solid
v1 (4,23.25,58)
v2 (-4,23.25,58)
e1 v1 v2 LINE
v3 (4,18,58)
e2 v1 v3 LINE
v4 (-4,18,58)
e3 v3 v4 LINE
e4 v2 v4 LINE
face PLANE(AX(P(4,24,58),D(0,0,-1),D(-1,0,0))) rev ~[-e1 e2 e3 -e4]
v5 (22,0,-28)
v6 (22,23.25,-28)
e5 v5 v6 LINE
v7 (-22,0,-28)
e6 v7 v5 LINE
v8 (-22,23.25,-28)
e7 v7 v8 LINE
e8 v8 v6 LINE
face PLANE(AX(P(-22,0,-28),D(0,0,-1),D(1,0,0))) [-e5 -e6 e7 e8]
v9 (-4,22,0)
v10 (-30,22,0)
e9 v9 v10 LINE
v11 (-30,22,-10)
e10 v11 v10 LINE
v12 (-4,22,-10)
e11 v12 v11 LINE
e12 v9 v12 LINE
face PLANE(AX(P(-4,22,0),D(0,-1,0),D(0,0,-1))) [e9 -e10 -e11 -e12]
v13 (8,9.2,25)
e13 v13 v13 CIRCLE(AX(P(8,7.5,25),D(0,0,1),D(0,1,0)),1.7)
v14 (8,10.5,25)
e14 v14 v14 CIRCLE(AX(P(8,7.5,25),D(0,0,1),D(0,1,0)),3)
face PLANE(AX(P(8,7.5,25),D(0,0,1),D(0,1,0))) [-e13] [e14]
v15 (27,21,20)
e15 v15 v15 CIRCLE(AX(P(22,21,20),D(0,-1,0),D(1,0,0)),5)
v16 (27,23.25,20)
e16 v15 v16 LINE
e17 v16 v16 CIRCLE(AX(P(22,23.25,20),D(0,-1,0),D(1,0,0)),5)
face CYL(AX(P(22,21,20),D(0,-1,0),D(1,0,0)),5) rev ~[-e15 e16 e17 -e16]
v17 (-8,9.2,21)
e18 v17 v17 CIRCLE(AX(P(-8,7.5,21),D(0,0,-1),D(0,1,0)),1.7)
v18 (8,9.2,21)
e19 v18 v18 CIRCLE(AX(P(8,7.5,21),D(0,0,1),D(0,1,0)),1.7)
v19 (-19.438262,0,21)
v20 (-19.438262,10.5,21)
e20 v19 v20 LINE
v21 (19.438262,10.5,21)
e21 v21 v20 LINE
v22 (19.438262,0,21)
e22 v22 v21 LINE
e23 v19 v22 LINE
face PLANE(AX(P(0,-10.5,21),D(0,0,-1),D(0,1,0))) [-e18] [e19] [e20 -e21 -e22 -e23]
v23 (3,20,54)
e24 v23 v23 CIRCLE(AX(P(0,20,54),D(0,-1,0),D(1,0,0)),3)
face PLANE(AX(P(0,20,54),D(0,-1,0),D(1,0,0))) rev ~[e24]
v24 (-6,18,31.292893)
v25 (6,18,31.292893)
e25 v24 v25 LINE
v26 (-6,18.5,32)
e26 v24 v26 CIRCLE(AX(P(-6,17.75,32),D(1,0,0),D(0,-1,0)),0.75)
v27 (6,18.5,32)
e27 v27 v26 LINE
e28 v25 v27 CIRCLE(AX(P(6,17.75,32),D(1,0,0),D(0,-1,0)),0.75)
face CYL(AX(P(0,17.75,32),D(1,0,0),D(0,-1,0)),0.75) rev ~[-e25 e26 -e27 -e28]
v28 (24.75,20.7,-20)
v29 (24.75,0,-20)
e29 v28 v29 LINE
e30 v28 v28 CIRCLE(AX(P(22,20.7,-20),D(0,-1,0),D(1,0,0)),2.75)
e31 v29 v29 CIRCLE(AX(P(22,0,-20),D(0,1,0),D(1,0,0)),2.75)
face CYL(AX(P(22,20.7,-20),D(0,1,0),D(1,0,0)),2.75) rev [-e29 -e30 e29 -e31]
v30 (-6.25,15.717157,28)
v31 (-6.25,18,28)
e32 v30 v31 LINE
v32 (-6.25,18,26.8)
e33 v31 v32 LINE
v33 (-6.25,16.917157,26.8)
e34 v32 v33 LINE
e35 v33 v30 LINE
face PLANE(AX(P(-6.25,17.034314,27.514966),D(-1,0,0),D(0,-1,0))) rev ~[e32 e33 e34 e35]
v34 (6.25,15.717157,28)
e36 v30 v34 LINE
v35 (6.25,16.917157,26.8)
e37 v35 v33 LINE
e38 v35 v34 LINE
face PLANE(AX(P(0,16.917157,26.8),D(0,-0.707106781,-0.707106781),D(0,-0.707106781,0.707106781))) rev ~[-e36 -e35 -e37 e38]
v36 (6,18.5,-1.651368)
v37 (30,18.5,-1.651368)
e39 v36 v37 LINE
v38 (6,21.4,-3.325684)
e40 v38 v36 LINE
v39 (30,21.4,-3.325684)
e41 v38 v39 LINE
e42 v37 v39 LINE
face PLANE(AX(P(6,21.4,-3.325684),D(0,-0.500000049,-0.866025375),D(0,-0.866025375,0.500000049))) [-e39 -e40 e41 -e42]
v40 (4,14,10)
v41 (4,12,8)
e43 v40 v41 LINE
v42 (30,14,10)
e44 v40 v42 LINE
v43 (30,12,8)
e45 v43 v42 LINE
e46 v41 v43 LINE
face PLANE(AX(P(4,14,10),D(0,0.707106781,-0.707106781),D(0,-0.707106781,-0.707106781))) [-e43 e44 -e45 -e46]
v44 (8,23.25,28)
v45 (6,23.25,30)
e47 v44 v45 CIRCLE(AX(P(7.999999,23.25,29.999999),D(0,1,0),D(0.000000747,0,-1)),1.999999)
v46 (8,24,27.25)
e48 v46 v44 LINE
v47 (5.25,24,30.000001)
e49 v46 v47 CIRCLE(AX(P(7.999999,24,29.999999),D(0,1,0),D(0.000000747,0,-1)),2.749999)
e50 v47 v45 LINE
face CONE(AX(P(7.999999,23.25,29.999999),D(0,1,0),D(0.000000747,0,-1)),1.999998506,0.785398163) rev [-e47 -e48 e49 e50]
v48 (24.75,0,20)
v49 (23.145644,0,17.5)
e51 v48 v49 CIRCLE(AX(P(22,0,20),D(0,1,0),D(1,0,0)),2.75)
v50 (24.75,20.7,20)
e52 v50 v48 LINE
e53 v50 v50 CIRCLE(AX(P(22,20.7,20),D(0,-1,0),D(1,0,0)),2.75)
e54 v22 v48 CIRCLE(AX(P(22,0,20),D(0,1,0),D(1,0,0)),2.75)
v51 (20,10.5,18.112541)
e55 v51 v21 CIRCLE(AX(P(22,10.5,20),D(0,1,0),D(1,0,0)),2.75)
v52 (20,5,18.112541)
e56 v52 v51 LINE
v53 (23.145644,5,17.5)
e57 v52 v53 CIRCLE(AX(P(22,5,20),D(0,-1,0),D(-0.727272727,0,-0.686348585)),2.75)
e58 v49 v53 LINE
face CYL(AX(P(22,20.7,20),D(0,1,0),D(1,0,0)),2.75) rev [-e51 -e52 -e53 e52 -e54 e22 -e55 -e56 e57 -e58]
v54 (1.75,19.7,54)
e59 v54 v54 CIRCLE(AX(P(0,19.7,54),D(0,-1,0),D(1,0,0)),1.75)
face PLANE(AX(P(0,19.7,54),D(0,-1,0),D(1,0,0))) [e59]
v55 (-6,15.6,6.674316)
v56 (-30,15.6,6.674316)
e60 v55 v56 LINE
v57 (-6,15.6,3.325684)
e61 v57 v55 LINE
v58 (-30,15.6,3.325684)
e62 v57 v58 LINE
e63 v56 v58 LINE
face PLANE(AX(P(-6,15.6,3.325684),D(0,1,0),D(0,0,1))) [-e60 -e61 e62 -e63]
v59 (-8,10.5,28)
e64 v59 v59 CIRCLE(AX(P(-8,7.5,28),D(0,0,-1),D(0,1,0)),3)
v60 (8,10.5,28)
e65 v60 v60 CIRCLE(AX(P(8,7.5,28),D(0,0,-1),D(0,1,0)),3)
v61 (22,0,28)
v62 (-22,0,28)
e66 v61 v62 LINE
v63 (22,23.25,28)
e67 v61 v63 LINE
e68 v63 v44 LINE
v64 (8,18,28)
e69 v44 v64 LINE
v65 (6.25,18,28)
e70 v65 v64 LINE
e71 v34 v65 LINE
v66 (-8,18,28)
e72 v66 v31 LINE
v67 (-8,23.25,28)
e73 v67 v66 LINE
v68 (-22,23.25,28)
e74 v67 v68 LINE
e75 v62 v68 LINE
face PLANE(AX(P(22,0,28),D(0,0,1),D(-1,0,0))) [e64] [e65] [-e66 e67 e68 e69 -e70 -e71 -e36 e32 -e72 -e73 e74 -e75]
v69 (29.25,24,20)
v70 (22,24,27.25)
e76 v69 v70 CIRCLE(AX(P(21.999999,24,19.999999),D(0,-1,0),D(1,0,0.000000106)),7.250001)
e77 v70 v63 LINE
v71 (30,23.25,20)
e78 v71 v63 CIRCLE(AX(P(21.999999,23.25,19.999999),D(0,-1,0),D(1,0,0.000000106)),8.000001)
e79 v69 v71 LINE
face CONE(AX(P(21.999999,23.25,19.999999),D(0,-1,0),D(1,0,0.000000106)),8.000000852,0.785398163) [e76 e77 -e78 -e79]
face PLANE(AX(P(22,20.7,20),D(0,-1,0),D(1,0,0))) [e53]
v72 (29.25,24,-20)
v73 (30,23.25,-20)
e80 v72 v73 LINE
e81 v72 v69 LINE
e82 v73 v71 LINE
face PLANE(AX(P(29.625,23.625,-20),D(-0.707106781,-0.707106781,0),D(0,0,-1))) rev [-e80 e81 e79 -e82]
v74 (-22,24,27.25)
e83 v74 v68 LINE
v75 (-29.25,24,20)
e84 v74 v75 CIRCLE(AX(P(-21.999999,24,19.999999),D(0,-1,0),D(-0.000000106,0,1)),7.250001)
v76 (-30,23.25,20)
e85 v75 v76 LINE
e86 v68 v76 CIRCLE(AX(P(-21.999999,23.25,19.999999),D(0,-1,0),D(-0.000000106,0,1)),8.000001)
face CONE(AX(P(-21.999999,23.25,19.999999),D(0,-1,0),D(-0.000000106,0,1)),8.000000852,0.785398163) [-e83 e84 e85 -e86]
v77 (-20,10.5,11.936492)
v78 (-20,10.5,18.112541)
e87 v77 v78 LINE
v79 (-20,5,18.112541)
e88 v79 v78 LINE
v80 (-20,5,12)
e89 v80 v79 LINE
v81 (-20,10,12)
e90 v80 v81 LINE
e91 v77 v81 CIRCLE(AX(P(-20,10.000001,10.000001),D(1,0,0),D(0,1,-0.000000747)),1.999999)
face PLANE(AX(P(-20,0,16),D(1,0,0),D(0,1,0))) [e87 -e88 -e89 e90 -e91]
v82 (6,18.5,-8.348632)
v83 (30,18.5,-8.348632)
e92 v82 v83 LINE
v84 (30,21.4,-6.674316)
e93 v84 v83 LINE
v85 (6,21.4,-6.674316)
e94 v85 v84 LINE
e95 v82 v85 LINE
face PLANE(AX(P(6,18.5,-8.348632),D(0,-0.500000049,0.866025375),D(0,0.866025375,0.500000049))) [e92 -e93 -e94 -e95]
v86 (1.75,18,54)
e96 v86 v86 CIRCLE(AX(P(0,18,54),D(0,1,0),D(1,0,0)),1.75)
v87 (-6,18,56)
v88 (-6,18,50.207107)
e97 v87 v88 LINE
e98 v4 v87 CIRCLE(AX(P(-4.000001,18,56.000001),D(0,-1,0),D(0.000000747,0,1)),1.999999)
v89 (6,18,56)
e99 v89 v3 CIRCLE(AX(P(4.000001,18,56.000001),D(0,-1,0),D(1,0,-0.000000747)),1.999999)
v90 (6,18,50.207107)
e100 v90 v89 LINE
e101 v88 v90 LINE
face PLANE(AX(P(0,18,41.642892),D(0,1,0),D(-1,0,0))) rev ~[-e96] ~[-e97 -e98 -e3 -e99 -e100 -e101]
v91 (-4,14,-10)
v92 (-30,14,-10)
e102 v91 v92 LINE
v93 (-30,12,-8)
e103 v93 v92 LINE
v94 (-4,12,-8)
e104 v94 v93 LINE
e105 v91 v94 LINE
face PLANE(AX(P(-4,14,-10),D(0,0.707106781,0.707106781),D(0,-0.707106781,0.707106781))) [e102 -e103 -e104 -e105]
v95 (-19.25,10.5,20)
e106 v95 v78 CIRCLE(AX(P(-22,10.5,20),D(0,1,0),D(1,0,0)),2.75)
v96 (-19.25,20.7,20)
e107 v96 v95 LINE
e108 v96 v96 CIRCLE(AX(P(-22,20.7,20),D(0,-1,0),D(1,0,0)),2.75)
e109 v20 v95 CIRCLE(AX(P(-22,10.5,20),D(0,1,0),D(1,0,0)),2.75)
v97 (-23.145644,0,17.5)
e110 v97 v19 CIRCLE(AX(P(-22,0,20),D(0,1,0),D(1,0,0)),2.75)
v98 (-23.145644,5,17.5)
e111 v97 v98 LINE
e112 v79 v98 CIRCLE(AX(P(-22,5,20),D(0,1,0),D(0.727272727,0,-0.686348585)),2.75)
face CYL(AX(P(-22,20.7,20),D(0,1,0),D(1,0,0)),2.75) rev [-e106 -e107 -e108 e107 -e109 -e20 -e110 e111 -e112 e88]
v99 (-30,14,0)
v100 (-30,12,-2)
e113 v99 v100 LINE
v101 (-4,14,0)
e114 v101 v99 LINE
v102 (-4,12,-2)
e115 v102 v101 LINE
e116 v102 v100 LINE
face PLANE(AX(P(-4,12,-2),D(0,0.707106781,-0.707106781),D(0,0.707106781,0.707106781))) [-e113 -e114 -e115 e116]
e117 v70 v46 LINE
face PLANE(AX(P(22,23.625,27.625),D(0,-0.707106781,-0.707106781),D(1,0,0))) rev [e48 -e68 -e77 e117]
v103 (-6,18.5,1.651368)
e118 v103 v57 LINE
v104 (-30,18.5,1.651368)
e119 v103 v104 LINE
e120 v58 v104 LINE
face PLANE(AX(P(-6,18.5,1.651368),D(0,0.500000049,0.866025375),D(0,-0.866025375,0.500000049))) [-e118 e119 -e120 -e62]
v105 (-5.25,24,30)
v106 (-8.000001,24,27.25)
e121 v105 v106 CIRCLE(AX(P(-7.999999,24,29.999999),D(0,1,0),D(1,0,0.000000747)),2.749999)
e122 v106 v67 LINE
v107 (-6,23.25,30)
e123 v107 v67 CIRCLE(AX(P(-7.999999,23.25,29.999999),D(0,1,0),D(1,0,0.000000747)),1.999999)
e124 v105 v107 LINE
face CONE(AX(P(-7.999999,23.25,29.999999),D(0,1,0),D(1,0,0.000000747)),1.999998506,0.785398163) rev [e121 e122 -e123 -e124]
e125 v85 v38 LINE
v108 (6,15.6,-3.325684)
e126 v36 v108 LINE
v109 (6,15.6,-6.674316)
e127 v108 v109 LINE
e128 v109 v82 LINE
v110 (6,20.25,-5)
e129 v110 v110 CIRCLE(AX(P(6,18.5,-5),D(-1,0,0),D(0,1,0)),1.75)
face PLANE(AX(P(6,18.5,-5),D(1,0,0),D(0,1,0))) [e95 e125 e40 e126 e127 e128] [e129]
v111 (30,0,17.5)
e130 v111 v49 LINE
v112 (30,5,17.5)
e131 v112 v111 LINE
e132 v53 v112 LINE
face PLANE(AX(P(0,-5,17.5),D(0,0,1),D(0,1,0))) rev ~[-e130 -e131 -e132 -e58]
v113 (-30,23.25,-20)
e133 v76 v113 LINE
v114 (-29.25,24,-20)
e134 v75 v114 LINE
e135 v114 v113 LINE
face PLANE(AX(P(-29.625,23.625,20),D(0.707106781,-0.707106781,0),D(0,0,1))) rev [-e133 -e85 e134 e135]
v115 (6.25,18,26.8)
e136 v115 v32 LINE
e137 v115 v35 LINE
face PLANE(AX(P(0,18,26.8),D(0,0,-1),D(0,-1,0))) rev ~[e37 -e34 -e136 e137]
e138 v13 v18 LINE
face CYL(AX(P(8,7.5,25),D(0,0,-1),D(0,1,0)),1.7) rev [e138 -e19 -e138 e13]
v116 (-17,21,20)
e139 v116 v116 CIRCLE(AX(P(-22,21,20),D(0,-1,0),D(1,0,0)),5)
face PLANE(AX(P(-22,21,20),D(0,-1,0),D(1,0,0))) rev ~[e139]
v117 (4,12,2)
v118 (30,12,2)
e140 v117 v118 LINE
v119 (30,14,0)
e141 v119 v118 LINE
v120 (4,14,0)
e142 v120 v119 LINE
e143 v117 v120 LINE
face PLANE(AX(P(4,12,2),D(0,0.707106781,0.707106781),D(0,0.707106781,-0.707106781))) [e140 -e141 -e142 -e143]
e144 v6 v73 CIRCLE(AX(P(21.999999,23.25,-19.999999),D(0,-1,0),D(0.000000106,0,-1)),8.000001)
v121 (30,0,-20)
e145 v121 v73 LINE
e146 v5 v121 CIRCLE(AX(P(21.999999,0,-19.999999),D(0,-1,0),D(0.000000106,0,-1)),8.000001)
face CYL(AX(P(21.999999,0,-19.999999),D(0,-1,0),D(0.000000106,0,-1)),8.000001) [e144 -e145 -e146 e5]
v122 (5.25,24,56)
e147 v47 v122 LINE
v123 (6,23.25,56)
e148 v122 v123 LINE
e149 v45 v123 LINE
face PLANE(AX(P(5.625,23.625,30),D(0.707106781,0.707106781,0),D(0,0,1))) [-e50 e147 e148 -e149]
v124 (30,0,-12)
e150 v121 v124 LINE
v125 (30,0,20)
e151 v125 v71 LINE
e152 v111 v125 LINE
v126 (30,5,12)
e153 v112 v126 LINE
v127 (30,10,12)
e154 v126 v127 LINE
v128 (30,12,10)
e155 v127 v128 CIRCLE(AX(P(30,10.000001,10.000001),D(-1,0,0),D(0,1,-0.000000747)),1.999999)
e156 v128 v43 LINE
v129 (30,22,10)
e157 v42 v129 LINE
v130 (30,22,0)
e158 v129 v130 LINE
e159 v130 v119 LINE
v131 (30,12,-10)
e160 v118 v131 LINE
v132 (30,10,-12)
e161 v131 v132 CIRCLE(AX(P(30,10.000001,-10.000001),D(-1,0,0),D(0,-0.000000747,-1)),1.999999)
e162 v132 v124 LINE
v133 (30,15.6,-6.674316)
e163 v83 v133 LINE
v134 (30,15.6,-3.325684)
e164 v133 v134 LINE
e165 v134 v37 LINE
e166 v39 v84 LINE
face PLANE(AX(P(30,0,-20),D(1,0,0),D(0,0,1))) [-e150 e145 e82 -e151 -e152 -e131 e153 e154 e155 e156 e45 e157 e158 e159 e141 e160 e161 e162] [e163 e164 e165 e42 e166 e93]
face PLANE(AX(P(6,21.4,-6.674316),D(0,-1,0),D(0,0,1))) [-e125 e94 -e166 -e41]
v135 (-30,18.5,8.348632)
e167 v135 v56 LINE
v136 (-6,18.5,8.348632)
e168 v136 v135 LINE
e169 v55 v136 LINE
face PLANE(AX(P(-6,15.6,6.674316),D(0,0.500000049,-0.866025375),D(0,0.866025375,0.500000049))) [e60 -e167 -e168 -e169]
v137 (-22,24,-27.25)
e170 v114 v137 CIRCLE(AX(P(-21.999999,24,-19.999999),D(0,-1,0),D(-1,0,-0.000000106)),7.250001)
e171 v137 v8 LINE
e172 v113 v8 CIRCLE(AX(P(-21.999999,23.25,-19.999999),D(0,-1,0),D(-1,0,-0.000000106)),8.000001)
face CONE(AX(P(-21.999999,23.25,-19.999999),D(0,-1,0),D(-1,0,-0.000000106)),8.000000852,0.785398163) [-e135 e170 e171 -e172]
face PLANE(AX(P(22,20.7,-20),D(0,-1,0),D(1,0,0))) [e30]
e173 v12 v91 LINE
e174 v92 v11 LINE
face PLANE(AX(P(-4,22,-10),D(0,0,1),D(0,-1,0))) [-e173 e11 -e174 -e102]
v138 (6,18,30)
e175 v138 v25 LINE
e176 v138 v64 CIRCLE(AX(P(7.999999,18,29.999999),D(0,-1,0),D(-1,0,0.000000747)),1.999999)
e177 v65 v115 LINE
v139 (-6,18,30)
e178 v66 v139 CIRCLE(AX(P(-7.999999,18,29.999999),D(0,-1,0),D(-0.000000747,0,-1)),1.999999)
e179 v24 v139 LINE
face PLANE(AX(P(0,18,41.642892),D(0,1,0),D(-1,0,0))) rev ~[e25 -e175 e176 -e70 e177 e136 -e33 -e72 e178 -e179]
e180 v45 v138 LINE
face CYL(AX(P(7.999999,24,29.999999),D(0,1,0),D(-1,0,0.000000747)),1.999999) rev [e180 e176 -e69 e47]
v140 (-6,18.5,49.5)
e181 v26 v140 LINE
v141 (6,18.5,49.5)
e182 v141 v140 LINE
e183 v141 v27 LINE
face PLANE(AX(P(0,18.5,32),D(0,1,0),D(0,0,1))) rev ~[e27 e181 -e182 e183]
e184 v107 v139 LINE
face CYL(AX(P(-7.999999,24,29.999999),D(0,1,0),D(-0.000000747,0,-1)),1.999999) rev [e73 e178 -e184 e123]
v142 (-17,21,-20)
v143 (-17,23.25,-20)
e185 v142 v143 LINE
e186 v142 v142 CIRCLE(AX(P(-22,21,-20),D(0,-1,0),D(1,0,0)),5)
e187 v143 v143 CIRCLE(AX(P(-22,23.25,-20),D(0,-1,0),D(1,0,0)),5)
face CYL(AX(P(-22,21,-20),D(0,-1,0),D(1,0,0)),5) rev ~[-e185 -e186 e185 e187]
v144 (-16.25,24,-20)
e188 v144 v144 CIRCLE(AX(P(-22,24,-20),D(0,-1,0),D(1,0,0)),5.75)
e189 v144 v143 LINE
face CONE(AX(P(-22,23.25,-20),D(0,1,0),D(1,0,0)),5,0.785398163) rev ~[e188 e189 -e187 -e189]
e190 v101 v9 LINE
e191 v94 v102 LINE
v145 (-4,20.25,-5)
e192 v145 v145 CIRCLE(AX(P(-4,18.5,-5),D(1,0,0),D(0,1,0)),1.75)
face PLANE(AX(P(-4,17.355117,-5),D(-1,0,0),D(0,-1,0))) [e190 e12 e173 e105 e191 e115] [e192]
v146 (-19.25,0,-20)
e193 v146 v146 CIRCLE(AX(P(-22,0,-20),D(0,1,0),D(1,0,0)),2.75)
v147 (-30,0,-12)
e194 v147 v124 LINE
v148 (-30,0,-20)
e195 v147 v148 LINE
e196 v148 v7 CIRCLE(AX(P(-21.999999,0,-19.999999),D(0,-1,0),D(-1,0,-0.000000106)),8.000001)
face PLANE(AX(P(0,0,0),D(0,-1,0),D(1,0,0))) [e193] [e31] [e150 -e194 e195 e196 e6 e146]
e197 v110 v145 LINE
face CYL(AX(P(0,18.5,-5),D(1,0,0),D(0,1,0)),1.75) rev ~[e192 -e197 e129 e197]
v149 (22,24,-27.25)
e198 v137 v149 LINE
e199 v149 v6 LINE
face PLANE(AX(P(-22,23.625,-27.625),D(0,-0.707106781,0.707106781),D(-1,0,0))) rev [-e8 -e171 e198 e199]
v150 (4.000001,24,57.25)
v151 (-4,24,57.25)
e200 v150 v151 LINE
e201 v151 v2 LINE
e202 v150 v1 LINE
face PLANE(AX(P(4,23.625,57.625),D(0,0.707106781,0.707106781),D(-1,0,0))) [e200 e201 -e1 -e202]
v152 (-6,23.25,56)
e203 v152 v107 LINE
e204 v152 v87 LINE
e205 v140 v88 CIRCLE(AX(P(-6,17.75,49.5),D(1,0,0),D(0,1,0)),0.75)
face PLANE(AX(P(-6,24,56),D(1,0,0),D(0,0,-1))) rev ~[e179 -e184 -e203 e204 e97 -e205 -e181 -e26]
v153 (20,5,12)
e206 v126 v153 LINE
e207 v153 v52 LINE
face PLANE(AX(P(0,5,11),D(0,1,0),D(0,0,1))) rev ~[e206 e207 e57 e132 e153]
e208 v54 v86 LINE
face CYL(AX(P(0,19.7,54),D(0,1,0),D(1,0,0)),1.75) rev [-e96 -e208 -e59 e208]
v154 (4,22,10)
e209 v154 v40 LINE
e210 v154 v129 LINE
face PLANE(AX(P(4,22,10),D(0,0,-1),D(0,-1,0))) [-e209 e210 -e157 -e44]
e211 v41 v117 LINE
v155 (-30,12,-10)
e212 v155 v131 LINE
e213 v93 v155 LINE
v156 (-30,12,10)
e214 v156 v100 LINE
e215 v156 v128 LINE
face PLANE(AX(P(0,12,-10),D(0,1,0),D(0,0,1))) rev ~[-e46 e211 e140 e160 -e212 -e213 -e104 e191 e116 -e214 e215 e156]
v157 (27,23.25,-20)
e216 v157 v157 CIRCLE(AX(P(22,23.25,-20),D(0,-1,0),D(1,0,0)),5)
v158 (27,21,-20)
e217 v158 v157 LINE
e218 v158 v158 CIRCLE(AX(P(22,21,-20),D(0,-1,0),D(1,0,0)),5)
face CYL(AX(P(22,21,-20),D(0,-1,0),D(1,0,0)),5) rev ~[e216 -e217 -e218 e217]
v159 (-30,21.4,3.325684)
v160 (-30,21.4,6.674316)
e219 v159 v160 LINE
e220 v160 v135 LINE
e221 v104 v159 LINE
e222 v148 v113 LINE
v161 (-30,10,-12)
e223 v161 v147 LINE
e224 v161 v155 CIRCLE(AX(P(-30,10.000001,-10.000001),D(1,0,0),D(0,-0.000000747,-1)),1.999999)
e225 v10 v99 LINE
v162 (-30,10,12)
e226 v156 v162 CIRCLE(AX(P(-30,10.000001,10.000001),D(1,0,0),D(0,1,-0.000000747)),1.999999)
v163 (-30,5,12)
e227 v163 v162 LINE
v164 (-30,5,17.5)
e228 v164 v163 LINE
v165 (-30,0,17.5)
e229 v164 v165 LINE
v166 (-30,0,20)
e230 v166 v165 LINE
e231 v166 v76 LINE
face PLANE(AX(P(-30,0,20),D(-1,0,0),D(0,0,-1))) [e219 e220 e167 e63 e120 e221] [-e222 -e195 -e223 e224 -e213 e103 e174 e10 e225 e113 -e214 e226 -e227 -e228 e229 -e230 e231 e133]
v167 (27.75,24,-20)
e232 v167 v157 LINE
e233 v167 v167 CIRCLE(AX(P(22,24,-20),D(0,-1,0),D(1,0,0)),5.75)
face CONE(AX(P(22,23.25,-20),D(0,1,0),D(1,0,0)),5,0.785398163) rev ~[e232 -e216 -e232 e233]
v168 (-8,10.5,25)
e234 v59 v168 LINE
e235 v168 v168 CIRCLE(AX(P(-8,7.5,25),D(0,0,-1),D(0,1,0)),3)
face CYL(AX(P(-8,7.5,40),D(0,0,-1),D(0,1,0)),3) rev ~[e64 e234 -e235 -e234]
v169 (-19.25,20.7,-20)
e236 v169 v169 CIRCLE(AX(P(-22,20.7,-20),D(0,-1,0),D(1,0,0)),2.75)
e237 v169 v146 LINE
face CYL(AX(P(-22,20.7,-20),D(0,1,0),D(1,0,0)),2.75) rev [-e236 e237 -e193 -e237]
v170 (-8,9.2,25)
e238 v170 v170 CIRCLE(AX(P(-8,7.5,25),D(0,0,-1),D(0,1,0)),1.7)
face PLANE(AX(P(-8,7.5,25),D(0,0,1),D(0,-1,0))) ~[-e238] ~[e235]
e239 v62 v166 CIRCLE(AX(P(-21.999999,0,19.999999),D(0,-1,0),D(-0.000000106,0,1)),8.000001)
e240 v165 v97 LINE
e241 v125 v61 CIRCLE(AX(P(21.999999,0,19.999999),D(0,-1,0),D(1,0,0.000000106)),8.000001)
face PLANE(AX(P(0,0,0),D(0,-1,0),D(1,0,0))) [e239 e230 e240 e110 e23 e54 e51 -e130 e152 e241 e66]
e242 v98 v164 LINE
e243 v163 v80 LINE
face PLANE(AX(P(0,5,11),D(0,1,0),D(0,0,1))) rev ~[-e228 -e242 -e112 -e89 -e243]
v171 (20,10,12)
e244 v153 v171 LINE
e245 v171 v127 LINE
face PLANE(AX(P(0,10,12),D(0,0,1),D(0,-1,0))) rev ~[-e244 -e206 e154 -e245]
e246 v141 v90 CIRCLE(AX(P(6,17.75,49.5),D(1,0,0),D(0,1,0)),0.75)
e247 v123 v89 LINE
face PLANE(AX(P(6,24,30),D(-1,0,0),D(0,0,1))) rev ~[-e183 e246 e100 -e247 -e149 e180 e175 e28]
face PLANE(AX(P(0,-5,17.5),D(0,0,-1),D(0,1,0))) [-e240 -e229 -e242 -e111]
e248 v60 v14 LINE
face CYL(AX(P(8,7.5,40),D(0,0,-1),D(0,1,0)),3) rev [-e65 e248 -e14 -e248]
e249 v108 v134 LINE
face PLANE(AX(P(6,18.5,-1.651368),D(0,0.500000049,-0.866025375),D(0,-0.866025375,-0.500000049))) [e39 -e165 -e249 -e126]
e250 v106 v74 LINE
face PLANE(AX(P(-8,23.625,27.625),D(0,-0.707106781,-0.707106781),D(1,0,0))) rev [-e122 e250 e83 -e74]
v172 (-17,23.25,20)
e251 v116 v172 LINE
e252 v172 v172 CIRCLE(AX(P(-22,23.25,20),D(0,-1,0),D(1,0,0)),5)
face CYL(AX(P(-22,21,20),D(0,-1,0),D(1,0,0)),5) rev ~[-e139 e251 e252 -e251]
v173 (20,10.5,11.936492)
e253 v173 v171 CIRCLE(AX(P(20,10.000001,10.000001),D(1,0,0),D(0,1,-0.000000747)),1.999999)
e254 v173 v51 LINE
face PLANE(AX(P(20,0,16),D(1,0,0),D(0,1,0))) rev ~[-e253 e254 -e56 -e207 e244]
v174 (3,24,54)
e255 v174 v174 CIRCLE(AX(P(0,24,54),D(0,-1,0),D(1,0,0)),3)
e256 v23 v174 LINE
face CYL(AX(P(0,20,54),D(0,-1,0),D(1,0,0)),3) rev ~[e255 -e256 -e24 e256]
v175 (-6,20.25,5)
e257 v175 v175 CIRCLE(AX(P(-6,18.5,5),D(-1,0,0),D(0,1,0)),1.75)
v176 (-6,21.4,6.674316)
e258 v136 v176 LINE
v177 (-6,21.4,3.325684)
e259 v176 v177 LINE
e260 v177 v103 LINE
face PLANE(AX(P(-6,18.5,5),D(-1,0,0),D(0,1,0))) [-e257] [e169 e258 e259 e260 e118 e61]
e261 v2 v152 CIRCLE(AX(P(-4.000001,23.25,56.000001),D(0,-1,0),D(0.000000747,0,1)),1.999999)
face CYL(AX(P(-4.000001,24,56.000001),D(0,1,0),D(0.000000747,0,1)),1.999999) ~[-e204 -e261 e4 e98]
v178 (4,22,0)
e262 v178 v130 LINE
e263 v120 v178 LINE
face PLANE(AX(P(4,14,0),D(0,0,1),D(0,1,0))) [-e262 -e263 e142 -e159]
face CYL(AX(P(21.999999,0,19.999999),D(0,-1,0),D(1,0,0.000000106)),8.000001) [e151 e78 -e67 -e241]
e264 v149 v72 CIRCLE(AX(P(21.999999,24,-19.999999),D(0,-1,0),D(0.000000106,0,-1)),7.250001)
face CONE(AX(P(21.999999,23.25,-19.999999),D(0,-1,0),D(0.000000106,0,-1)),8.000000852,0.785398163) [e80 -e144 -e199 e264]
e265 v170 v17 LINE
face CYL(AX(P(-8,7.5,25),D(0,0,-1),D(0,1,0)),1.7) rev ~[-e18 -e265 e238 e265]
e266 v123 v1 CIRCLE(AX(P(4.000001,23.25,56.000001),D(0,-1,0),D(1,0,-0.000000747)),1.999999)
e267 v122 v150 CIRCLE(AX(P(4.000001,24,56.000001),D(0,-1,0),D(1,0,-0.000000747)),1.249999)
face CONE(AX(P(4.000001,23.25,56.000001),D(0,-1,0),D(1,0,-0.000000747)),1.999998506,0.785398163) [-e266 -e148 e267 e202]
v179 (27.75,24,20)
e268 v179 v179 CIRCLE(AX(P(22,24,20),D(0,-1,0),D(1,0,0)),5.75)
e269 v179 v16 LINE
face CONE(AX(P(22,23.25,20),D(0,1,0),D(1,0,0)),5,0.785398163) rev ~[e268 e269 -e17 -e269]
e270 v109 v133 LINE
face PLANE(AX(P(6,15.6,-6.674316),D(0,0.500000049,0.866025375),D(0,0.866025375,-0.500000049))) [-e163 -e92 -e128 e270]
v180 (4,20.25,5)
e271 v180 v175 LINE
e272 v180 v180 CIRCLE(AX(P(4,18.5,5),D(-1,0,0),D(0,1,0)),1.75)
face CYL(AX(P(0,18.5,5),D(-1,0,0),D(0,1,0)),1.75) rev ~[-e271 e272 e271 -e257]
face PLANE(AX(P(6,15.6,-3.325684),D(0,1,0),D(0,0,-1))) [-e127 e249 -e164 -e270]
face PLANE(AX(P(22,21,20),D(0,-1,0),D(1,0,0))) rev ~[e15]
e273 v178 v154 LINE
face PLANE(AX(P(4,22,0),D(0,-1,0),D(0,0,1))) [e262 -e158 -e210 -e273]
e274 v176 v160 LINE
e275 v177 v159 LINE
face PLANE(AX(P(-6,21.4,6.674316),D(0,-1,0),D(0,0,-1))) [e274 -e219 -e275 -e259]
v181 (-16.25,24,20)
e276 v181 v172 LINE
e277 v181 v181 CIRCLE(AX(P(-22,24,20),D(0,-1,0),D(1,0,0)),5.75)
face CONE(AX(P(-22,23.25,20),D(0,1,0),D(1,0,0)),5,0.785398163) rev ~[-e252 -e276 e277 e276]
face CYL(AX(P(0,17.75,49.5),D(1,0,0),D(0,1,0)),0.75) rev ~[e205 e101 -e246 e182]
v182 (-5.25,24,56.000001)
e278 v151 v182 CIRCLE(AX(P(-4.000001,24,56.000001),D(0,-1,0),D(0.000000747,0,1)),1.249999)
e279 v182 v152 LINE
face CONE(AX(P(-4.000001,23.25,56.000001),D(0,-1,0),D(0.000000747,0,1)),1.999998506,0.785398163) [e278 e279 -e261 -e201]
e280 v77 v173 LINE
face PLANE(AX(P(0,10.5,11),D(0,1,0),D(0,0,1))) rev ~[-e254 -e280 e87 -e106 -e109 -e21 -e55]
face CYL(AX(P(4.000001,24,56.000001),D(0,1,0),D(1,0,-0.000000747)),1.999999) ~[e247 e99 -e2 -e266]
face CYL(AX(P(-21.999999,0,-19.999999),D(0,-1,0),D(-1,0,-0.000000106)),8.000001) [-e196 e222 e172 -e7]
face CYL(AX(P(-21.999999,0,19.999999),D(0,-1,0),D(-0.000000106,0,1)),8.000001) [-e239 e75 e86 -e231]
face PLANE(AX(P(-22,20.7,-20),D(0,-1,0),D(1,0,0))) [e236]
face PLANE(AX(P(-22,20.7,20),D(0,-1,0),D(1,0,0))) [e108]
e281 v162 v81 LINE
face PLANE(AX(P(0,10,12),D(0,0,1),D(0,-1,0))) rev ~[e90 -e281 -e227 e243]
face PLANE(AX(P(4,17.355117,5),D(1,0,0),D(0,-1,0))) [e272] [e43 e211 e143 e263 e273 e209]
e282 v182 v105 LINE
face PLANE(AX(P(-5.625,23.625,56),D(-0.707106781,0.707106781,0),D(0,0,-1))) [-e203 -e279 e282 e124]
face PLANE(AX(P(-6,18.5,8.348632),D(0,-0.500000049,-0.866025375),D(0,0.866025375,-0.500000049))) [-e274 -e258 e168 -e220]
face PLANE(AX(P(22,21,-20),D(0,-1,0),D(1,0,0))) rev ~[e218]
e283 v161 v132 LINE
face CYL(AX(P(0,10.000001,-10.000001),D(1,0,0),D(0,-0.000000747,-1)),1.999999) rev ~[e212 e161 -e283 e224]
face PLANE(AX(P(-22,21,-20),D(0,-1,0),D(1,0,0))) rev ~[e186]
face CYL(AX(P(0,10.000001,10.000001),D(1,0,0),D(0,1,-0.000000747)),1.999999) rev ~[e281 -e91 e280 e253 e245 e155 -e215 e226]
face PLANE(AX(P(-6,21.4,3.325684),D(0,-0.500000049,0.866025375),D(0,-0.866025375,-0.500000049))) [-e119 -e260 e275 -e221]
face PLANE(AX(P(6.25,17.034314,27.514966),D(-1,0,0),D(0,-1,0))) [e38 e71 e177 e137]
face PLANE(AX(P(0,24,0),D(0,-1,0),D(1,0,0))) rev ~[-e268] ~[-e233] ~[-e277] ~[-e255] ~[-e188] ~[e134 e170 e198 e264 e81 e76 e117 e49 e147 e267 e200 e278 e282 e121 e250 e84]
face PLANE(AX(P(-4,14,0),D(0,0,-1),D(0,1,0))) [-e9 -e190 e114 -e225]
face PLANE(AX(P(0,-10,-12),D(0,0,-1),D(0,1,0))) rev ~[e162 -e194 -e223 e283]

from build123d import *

# Parameters (mm, degrees)
PAD105_DEPTH          = 24
POCKET307_DEPTH       = 30.001
POCKET307_DEPTH_BACK  = 30.001
SKETCH492_R           = 2.75
POCKET338_DEPTH       = 20.701
SKETCH493_R           = 5
POCKET339_DEPTH       = 5
PAD110_DEPTH          = 6
POCKET343_DEPTH       = 6.25
SKETCH501_R           = 1.75
POCKET344_DEPTH       = 5
SKETCH502_R           = 3
POCKET345_DEPTH       = 5
CHAMFER027_SIZE       = 0.75
SKETCH515_W           = 10
SKETCH515_H           = 6.5
POCKET346_DEPTH       = 30.001
POCKET346_DEPTH_BACK  = 30.001
SKETCH516_W           = 21
SKETCH516_H           = 10
POCKET347_DEPTH       = 20
SKETCH517_W           = 44
SKETCH517_H           = 20
POCKET348_DEPTH       = 5
POCKET349_DEPTH       = 241.147462
SKETCH497_R           = 1.75
POCKET350_DEPTH       = 245.147462
POCKET350_DEPTH_BACK  = 245.147462
POCKET351_DEPTH       = 239.147462
POLARPATTERN007_COUNT = 2


with BuildPart() as part:
    # Sketch487 → Pad105 (new body)
    with BuildSketch(Plane.XZ):
        with BuildLine():
            Line((-30, 20), (-30, -20))
            ThreePointArc((-30, -20), (-27.656854, -25.656854), (-22, -28))
            Line((-22, -28), (22, -28))
            ThreePointArc((22, -28), (27.656854, -25.656854), (30, -20))
            Line((30, -20), (30, 20))
            ThreePointArc((30, 20), (27.656854, 25.656854), (22, 28))
            Line((22, 28), (-22, 28))
            ThreePointArc((-22, 28), (-27.656854, 25.656854), (-30, 20))
        make_face()
    extrude(amount=-PAD105_DEPTH)

    # Sketch488 → Pocket307 (cut, two sides)
    with BuildSketch(Plane.YZ) as pocket307_sk:
        with BuildLine():
            Line((-12, 10), (-12, -10))
            ThreePointArc((-12, -10), (-11.414214, -11.414214), (-10, -12))
            Line((-10, -12), (10, -12))
            ThreePointArc((10, -12), (11.414214, -11.414214), (12, -10))
            Line((12, -10), (12, 10))
            ThreePointArc((12, 10), (11.414214, 11.414214), (10, 12))
            Line((10, 12), (-10, 12))
            ThreePointArc((-10, 12), (-11.414214, 11.414214), (-12, 10))
        make_face()
    extrude(amount=-POCKET307_DEPTH, mode=Mode.SUBTRACT)
    extrude(pocket307_sk.sketch, amount=POCKET307_DEPTH_BACK, mode=Mode.SUBTRACT)

    # Sketch492 → Pocket338 (cut, through all)
    with BuildSketch(Plane.XZ.offset(-20.7)):
        with Locations((-22, 20)):
            Circle(SKETCH492_R)
        with Locations((22, 20)):
            Circle(SKETCH492_R)
        with Locations((-22, -20)):
            Circle(SKETCH492_R)
        with Locations((22, -20)):
            Circle(SKETCH492_R)
    extrude(amount=POCKET338_DEPTH, mode=Mode.SUBTRACT)

    # Sketch493 → Pocket339 (cut)
    with BuildSketch(Plane.XZ.offset(-21)):
        with Locations((-22, 20)):
            Circle(SKETCH493_R)
        with Locations((22, 20)):
            Circle(SKETCH493_R)
        with Locations((-22, -20)):
            Circle(SKETCH493_R)
        with Locations((22, -20)):
            Circle(SKETCH493_R)
    extrude(amount=-POCKET339_DEPTH, mode=Mode.SUBTRACT)

    # Sketch499 → Pad110 (join)
    with BuildSketch(Plane.XZ.offset(-24)):
        with BuildLine():
            ThreePointArc((6, 30), (6.585786, 28.585786), (8, 28))
            Line((-8, 28), (8, 28))
            ThreePointArc((-8, 28), (-6.585786, 28.585786), (-6, 30))
            Line((-6, 56), (-6, 30))
            ThreePointArc((-4, 58), (-5.414214, 57.414214), (-6, 56))
            Line((4, 58), (-4, 58))
            ThreePointArc((6, 56), (5.414214, 57.414214), (4, 58))
            Line((6, 30), (6, 56))
        make_face()
    extrude(amount=PAD110_DEPTH)

    # Sketch500 → Pocket343 (cut, symmetric)
    with BuildSketch(Plane.YZ):
        Polygon((18, 28), (18, 26.8), (16.917157, 26.8), (15.717157, 28), align=None)
        with BuildLine():
            ThreePointArc((18.5, 49.5), (17.75, 50.25), (17, 49.5))
            Line((17, 49.5), (17, 32))
            ThreePointArc((17, 32), (17.75, 31.25), (18.5, 32))
            Line((18.5, 32), (18.5, 49.5))
        make_face()
    extrude(amount=POCKET343_DEPTH, both=True, mode=Mode.SUBTRACT)

    # Sketch501 → Pocket344 (cut)
    with BuildSketch(Plane.XZ.offset(-19.7)):
        with Locations((0, 54)):
            Circle(SKETCH501_R)
    extrude(amount=POCKET344_DEPTH, mode=Mode.SUBTRACT)

    # Sketch502 → Pocket345 (cut)
    with BuildSketch(Plane.XZ.offset(-20)):
        with Locations((0, 54)):
            Circle(SKETCH502_R)
    extrude(amount=-POCKET345_DEPTH, mode=Mode.SUBTRACT)

    # Chamfer027
    chamfer027_edges = [part.edges().sort_by_distance(p)[0] for p in [
        (15, 24, 28),
        (17, 24, 20),
        (-27, 24, 20),
        (-27, 24, -20),
        (17, 24, -20),
    ]]
    chamfer(chamfer027_edges, length=CHAMFER027_SIZE)

    # Sketch515 → Pocket346 (cut, two sides)
    with BuildSketch(Plane.YZ) as pocket346_sk:
        with Locations((0, 14.25)):
            Rectangle(SKETCH515_W, SKETCH515_H)
    extrude(amount=-POCKET346_DEPTH, mode=Mode.SUBTRACT)
    extrude(pocket346_sk.sketch, amount=POCKET346_DEPTH_BACK, mode=Mode.SUBTRACT)

    # Sketch516 → Pocket347 (cut, symmetric)
    with BuildSketch(Plane.YZ):
        with Locations((0, 16)):
            Rectangle(SKETCH516_W, SKETCH516_H)
    extrude(amount=POCKET347_DEPTH, both=True, mode=Mode.SUBTRACT)

    # Sketch517 → Pocket348 (cut)
    with BuildSketch(Plane.XZ):
        with Locations((0, 10)):
            Rectangle(SKETCH517_W, SKETCH517_H)
    extrude(amount=-POCKET348_DEPTH, mode=Mode.SUBTRACT)

    # Sketch518 → Groove001 (revolve, cut)
    with BuildSketch(Plane(origin=(8, 7.5, 0), x_dir=(0, 1, 0), z_dir=(1, 0, 0))):
        Polygon((0, 40), (3, 40), (3, 25), (1.7, 25), (1.7, 21), (0, 21), align=None)
    groove001 = revolve(axis=Axis((8, 7.5, 0), (0, 0, 1)), mode=Mode.SUBTRACT)

    # Mirrored031: Groove001 across YZ
    add(groove001.mirror(Plane.YZ), mode=Mode.SUBTRACT)

    # Sketch496 → Pocket349 (cut, through all)
    with BuildSketch(Plane.YZ.offset(-4)):
        Polygon((14, 0), (22, 0), (22, -10), (14, -10), (12, -8), (12, -2), align=None)
    pocket349 = extrude(amount=-POCKET349_DEPTH, mode=Mode.SUBTRACT)

    # Sketch497 → Pocket350 (cut, two sides)
    with BuildSketch(Plane.YZ) as pocket350_sk:
        with Locations((18.5, -5)):
            Circle(SKETCH497_R)
    pocket350 = extrude(amount=-POCKET350_DEPTH, mode=Mode.SUBTRACT) + extrude(pocket350_sk.sketch, amount=POCKET350_DEPTH_BACK, mode=Mode.SUBTRACT)

    # Sketch498 → Pocket351 (cut, through all)
    with BuildSketch(Plane.YZ.offset(6)):
        Polygon((21.4, -6.674316), (21.4, -3.325684), (18.5, -1.651368), (15.6, -3.325684), (15.6, -6.674316), (18.5, -8.348632), align=None)
    pocket351 = extrude(amount=POCKET351_DEPTH, mode=Mode.SUBTRACT)

    # PolarPattern007: Pocket351, Pocket349, Pocket350 ×2 about axis
    polarpattern007_axis = Axis((0, 0, 0), (0, 1, 0))
    for i in range(1, POLARPATTERN007_COUNT):
        add(pocket351.rotate(polarpattern007_axis, i * 360 / POLARPATTERN007_COUNT), mode=Mode.SUBTRACT)
        add(pocket349.rotate(polarpattern007_axis, i * 360 / POLARPATTERN007_COUNT), mode=Mode.SUBTRACT)
        add(pocket350.rotate(polarpattern007_axis, i * 360 / POLARPATTERN007_COUNT), mode=Mode.SUBTRACT)


solid = part.part
